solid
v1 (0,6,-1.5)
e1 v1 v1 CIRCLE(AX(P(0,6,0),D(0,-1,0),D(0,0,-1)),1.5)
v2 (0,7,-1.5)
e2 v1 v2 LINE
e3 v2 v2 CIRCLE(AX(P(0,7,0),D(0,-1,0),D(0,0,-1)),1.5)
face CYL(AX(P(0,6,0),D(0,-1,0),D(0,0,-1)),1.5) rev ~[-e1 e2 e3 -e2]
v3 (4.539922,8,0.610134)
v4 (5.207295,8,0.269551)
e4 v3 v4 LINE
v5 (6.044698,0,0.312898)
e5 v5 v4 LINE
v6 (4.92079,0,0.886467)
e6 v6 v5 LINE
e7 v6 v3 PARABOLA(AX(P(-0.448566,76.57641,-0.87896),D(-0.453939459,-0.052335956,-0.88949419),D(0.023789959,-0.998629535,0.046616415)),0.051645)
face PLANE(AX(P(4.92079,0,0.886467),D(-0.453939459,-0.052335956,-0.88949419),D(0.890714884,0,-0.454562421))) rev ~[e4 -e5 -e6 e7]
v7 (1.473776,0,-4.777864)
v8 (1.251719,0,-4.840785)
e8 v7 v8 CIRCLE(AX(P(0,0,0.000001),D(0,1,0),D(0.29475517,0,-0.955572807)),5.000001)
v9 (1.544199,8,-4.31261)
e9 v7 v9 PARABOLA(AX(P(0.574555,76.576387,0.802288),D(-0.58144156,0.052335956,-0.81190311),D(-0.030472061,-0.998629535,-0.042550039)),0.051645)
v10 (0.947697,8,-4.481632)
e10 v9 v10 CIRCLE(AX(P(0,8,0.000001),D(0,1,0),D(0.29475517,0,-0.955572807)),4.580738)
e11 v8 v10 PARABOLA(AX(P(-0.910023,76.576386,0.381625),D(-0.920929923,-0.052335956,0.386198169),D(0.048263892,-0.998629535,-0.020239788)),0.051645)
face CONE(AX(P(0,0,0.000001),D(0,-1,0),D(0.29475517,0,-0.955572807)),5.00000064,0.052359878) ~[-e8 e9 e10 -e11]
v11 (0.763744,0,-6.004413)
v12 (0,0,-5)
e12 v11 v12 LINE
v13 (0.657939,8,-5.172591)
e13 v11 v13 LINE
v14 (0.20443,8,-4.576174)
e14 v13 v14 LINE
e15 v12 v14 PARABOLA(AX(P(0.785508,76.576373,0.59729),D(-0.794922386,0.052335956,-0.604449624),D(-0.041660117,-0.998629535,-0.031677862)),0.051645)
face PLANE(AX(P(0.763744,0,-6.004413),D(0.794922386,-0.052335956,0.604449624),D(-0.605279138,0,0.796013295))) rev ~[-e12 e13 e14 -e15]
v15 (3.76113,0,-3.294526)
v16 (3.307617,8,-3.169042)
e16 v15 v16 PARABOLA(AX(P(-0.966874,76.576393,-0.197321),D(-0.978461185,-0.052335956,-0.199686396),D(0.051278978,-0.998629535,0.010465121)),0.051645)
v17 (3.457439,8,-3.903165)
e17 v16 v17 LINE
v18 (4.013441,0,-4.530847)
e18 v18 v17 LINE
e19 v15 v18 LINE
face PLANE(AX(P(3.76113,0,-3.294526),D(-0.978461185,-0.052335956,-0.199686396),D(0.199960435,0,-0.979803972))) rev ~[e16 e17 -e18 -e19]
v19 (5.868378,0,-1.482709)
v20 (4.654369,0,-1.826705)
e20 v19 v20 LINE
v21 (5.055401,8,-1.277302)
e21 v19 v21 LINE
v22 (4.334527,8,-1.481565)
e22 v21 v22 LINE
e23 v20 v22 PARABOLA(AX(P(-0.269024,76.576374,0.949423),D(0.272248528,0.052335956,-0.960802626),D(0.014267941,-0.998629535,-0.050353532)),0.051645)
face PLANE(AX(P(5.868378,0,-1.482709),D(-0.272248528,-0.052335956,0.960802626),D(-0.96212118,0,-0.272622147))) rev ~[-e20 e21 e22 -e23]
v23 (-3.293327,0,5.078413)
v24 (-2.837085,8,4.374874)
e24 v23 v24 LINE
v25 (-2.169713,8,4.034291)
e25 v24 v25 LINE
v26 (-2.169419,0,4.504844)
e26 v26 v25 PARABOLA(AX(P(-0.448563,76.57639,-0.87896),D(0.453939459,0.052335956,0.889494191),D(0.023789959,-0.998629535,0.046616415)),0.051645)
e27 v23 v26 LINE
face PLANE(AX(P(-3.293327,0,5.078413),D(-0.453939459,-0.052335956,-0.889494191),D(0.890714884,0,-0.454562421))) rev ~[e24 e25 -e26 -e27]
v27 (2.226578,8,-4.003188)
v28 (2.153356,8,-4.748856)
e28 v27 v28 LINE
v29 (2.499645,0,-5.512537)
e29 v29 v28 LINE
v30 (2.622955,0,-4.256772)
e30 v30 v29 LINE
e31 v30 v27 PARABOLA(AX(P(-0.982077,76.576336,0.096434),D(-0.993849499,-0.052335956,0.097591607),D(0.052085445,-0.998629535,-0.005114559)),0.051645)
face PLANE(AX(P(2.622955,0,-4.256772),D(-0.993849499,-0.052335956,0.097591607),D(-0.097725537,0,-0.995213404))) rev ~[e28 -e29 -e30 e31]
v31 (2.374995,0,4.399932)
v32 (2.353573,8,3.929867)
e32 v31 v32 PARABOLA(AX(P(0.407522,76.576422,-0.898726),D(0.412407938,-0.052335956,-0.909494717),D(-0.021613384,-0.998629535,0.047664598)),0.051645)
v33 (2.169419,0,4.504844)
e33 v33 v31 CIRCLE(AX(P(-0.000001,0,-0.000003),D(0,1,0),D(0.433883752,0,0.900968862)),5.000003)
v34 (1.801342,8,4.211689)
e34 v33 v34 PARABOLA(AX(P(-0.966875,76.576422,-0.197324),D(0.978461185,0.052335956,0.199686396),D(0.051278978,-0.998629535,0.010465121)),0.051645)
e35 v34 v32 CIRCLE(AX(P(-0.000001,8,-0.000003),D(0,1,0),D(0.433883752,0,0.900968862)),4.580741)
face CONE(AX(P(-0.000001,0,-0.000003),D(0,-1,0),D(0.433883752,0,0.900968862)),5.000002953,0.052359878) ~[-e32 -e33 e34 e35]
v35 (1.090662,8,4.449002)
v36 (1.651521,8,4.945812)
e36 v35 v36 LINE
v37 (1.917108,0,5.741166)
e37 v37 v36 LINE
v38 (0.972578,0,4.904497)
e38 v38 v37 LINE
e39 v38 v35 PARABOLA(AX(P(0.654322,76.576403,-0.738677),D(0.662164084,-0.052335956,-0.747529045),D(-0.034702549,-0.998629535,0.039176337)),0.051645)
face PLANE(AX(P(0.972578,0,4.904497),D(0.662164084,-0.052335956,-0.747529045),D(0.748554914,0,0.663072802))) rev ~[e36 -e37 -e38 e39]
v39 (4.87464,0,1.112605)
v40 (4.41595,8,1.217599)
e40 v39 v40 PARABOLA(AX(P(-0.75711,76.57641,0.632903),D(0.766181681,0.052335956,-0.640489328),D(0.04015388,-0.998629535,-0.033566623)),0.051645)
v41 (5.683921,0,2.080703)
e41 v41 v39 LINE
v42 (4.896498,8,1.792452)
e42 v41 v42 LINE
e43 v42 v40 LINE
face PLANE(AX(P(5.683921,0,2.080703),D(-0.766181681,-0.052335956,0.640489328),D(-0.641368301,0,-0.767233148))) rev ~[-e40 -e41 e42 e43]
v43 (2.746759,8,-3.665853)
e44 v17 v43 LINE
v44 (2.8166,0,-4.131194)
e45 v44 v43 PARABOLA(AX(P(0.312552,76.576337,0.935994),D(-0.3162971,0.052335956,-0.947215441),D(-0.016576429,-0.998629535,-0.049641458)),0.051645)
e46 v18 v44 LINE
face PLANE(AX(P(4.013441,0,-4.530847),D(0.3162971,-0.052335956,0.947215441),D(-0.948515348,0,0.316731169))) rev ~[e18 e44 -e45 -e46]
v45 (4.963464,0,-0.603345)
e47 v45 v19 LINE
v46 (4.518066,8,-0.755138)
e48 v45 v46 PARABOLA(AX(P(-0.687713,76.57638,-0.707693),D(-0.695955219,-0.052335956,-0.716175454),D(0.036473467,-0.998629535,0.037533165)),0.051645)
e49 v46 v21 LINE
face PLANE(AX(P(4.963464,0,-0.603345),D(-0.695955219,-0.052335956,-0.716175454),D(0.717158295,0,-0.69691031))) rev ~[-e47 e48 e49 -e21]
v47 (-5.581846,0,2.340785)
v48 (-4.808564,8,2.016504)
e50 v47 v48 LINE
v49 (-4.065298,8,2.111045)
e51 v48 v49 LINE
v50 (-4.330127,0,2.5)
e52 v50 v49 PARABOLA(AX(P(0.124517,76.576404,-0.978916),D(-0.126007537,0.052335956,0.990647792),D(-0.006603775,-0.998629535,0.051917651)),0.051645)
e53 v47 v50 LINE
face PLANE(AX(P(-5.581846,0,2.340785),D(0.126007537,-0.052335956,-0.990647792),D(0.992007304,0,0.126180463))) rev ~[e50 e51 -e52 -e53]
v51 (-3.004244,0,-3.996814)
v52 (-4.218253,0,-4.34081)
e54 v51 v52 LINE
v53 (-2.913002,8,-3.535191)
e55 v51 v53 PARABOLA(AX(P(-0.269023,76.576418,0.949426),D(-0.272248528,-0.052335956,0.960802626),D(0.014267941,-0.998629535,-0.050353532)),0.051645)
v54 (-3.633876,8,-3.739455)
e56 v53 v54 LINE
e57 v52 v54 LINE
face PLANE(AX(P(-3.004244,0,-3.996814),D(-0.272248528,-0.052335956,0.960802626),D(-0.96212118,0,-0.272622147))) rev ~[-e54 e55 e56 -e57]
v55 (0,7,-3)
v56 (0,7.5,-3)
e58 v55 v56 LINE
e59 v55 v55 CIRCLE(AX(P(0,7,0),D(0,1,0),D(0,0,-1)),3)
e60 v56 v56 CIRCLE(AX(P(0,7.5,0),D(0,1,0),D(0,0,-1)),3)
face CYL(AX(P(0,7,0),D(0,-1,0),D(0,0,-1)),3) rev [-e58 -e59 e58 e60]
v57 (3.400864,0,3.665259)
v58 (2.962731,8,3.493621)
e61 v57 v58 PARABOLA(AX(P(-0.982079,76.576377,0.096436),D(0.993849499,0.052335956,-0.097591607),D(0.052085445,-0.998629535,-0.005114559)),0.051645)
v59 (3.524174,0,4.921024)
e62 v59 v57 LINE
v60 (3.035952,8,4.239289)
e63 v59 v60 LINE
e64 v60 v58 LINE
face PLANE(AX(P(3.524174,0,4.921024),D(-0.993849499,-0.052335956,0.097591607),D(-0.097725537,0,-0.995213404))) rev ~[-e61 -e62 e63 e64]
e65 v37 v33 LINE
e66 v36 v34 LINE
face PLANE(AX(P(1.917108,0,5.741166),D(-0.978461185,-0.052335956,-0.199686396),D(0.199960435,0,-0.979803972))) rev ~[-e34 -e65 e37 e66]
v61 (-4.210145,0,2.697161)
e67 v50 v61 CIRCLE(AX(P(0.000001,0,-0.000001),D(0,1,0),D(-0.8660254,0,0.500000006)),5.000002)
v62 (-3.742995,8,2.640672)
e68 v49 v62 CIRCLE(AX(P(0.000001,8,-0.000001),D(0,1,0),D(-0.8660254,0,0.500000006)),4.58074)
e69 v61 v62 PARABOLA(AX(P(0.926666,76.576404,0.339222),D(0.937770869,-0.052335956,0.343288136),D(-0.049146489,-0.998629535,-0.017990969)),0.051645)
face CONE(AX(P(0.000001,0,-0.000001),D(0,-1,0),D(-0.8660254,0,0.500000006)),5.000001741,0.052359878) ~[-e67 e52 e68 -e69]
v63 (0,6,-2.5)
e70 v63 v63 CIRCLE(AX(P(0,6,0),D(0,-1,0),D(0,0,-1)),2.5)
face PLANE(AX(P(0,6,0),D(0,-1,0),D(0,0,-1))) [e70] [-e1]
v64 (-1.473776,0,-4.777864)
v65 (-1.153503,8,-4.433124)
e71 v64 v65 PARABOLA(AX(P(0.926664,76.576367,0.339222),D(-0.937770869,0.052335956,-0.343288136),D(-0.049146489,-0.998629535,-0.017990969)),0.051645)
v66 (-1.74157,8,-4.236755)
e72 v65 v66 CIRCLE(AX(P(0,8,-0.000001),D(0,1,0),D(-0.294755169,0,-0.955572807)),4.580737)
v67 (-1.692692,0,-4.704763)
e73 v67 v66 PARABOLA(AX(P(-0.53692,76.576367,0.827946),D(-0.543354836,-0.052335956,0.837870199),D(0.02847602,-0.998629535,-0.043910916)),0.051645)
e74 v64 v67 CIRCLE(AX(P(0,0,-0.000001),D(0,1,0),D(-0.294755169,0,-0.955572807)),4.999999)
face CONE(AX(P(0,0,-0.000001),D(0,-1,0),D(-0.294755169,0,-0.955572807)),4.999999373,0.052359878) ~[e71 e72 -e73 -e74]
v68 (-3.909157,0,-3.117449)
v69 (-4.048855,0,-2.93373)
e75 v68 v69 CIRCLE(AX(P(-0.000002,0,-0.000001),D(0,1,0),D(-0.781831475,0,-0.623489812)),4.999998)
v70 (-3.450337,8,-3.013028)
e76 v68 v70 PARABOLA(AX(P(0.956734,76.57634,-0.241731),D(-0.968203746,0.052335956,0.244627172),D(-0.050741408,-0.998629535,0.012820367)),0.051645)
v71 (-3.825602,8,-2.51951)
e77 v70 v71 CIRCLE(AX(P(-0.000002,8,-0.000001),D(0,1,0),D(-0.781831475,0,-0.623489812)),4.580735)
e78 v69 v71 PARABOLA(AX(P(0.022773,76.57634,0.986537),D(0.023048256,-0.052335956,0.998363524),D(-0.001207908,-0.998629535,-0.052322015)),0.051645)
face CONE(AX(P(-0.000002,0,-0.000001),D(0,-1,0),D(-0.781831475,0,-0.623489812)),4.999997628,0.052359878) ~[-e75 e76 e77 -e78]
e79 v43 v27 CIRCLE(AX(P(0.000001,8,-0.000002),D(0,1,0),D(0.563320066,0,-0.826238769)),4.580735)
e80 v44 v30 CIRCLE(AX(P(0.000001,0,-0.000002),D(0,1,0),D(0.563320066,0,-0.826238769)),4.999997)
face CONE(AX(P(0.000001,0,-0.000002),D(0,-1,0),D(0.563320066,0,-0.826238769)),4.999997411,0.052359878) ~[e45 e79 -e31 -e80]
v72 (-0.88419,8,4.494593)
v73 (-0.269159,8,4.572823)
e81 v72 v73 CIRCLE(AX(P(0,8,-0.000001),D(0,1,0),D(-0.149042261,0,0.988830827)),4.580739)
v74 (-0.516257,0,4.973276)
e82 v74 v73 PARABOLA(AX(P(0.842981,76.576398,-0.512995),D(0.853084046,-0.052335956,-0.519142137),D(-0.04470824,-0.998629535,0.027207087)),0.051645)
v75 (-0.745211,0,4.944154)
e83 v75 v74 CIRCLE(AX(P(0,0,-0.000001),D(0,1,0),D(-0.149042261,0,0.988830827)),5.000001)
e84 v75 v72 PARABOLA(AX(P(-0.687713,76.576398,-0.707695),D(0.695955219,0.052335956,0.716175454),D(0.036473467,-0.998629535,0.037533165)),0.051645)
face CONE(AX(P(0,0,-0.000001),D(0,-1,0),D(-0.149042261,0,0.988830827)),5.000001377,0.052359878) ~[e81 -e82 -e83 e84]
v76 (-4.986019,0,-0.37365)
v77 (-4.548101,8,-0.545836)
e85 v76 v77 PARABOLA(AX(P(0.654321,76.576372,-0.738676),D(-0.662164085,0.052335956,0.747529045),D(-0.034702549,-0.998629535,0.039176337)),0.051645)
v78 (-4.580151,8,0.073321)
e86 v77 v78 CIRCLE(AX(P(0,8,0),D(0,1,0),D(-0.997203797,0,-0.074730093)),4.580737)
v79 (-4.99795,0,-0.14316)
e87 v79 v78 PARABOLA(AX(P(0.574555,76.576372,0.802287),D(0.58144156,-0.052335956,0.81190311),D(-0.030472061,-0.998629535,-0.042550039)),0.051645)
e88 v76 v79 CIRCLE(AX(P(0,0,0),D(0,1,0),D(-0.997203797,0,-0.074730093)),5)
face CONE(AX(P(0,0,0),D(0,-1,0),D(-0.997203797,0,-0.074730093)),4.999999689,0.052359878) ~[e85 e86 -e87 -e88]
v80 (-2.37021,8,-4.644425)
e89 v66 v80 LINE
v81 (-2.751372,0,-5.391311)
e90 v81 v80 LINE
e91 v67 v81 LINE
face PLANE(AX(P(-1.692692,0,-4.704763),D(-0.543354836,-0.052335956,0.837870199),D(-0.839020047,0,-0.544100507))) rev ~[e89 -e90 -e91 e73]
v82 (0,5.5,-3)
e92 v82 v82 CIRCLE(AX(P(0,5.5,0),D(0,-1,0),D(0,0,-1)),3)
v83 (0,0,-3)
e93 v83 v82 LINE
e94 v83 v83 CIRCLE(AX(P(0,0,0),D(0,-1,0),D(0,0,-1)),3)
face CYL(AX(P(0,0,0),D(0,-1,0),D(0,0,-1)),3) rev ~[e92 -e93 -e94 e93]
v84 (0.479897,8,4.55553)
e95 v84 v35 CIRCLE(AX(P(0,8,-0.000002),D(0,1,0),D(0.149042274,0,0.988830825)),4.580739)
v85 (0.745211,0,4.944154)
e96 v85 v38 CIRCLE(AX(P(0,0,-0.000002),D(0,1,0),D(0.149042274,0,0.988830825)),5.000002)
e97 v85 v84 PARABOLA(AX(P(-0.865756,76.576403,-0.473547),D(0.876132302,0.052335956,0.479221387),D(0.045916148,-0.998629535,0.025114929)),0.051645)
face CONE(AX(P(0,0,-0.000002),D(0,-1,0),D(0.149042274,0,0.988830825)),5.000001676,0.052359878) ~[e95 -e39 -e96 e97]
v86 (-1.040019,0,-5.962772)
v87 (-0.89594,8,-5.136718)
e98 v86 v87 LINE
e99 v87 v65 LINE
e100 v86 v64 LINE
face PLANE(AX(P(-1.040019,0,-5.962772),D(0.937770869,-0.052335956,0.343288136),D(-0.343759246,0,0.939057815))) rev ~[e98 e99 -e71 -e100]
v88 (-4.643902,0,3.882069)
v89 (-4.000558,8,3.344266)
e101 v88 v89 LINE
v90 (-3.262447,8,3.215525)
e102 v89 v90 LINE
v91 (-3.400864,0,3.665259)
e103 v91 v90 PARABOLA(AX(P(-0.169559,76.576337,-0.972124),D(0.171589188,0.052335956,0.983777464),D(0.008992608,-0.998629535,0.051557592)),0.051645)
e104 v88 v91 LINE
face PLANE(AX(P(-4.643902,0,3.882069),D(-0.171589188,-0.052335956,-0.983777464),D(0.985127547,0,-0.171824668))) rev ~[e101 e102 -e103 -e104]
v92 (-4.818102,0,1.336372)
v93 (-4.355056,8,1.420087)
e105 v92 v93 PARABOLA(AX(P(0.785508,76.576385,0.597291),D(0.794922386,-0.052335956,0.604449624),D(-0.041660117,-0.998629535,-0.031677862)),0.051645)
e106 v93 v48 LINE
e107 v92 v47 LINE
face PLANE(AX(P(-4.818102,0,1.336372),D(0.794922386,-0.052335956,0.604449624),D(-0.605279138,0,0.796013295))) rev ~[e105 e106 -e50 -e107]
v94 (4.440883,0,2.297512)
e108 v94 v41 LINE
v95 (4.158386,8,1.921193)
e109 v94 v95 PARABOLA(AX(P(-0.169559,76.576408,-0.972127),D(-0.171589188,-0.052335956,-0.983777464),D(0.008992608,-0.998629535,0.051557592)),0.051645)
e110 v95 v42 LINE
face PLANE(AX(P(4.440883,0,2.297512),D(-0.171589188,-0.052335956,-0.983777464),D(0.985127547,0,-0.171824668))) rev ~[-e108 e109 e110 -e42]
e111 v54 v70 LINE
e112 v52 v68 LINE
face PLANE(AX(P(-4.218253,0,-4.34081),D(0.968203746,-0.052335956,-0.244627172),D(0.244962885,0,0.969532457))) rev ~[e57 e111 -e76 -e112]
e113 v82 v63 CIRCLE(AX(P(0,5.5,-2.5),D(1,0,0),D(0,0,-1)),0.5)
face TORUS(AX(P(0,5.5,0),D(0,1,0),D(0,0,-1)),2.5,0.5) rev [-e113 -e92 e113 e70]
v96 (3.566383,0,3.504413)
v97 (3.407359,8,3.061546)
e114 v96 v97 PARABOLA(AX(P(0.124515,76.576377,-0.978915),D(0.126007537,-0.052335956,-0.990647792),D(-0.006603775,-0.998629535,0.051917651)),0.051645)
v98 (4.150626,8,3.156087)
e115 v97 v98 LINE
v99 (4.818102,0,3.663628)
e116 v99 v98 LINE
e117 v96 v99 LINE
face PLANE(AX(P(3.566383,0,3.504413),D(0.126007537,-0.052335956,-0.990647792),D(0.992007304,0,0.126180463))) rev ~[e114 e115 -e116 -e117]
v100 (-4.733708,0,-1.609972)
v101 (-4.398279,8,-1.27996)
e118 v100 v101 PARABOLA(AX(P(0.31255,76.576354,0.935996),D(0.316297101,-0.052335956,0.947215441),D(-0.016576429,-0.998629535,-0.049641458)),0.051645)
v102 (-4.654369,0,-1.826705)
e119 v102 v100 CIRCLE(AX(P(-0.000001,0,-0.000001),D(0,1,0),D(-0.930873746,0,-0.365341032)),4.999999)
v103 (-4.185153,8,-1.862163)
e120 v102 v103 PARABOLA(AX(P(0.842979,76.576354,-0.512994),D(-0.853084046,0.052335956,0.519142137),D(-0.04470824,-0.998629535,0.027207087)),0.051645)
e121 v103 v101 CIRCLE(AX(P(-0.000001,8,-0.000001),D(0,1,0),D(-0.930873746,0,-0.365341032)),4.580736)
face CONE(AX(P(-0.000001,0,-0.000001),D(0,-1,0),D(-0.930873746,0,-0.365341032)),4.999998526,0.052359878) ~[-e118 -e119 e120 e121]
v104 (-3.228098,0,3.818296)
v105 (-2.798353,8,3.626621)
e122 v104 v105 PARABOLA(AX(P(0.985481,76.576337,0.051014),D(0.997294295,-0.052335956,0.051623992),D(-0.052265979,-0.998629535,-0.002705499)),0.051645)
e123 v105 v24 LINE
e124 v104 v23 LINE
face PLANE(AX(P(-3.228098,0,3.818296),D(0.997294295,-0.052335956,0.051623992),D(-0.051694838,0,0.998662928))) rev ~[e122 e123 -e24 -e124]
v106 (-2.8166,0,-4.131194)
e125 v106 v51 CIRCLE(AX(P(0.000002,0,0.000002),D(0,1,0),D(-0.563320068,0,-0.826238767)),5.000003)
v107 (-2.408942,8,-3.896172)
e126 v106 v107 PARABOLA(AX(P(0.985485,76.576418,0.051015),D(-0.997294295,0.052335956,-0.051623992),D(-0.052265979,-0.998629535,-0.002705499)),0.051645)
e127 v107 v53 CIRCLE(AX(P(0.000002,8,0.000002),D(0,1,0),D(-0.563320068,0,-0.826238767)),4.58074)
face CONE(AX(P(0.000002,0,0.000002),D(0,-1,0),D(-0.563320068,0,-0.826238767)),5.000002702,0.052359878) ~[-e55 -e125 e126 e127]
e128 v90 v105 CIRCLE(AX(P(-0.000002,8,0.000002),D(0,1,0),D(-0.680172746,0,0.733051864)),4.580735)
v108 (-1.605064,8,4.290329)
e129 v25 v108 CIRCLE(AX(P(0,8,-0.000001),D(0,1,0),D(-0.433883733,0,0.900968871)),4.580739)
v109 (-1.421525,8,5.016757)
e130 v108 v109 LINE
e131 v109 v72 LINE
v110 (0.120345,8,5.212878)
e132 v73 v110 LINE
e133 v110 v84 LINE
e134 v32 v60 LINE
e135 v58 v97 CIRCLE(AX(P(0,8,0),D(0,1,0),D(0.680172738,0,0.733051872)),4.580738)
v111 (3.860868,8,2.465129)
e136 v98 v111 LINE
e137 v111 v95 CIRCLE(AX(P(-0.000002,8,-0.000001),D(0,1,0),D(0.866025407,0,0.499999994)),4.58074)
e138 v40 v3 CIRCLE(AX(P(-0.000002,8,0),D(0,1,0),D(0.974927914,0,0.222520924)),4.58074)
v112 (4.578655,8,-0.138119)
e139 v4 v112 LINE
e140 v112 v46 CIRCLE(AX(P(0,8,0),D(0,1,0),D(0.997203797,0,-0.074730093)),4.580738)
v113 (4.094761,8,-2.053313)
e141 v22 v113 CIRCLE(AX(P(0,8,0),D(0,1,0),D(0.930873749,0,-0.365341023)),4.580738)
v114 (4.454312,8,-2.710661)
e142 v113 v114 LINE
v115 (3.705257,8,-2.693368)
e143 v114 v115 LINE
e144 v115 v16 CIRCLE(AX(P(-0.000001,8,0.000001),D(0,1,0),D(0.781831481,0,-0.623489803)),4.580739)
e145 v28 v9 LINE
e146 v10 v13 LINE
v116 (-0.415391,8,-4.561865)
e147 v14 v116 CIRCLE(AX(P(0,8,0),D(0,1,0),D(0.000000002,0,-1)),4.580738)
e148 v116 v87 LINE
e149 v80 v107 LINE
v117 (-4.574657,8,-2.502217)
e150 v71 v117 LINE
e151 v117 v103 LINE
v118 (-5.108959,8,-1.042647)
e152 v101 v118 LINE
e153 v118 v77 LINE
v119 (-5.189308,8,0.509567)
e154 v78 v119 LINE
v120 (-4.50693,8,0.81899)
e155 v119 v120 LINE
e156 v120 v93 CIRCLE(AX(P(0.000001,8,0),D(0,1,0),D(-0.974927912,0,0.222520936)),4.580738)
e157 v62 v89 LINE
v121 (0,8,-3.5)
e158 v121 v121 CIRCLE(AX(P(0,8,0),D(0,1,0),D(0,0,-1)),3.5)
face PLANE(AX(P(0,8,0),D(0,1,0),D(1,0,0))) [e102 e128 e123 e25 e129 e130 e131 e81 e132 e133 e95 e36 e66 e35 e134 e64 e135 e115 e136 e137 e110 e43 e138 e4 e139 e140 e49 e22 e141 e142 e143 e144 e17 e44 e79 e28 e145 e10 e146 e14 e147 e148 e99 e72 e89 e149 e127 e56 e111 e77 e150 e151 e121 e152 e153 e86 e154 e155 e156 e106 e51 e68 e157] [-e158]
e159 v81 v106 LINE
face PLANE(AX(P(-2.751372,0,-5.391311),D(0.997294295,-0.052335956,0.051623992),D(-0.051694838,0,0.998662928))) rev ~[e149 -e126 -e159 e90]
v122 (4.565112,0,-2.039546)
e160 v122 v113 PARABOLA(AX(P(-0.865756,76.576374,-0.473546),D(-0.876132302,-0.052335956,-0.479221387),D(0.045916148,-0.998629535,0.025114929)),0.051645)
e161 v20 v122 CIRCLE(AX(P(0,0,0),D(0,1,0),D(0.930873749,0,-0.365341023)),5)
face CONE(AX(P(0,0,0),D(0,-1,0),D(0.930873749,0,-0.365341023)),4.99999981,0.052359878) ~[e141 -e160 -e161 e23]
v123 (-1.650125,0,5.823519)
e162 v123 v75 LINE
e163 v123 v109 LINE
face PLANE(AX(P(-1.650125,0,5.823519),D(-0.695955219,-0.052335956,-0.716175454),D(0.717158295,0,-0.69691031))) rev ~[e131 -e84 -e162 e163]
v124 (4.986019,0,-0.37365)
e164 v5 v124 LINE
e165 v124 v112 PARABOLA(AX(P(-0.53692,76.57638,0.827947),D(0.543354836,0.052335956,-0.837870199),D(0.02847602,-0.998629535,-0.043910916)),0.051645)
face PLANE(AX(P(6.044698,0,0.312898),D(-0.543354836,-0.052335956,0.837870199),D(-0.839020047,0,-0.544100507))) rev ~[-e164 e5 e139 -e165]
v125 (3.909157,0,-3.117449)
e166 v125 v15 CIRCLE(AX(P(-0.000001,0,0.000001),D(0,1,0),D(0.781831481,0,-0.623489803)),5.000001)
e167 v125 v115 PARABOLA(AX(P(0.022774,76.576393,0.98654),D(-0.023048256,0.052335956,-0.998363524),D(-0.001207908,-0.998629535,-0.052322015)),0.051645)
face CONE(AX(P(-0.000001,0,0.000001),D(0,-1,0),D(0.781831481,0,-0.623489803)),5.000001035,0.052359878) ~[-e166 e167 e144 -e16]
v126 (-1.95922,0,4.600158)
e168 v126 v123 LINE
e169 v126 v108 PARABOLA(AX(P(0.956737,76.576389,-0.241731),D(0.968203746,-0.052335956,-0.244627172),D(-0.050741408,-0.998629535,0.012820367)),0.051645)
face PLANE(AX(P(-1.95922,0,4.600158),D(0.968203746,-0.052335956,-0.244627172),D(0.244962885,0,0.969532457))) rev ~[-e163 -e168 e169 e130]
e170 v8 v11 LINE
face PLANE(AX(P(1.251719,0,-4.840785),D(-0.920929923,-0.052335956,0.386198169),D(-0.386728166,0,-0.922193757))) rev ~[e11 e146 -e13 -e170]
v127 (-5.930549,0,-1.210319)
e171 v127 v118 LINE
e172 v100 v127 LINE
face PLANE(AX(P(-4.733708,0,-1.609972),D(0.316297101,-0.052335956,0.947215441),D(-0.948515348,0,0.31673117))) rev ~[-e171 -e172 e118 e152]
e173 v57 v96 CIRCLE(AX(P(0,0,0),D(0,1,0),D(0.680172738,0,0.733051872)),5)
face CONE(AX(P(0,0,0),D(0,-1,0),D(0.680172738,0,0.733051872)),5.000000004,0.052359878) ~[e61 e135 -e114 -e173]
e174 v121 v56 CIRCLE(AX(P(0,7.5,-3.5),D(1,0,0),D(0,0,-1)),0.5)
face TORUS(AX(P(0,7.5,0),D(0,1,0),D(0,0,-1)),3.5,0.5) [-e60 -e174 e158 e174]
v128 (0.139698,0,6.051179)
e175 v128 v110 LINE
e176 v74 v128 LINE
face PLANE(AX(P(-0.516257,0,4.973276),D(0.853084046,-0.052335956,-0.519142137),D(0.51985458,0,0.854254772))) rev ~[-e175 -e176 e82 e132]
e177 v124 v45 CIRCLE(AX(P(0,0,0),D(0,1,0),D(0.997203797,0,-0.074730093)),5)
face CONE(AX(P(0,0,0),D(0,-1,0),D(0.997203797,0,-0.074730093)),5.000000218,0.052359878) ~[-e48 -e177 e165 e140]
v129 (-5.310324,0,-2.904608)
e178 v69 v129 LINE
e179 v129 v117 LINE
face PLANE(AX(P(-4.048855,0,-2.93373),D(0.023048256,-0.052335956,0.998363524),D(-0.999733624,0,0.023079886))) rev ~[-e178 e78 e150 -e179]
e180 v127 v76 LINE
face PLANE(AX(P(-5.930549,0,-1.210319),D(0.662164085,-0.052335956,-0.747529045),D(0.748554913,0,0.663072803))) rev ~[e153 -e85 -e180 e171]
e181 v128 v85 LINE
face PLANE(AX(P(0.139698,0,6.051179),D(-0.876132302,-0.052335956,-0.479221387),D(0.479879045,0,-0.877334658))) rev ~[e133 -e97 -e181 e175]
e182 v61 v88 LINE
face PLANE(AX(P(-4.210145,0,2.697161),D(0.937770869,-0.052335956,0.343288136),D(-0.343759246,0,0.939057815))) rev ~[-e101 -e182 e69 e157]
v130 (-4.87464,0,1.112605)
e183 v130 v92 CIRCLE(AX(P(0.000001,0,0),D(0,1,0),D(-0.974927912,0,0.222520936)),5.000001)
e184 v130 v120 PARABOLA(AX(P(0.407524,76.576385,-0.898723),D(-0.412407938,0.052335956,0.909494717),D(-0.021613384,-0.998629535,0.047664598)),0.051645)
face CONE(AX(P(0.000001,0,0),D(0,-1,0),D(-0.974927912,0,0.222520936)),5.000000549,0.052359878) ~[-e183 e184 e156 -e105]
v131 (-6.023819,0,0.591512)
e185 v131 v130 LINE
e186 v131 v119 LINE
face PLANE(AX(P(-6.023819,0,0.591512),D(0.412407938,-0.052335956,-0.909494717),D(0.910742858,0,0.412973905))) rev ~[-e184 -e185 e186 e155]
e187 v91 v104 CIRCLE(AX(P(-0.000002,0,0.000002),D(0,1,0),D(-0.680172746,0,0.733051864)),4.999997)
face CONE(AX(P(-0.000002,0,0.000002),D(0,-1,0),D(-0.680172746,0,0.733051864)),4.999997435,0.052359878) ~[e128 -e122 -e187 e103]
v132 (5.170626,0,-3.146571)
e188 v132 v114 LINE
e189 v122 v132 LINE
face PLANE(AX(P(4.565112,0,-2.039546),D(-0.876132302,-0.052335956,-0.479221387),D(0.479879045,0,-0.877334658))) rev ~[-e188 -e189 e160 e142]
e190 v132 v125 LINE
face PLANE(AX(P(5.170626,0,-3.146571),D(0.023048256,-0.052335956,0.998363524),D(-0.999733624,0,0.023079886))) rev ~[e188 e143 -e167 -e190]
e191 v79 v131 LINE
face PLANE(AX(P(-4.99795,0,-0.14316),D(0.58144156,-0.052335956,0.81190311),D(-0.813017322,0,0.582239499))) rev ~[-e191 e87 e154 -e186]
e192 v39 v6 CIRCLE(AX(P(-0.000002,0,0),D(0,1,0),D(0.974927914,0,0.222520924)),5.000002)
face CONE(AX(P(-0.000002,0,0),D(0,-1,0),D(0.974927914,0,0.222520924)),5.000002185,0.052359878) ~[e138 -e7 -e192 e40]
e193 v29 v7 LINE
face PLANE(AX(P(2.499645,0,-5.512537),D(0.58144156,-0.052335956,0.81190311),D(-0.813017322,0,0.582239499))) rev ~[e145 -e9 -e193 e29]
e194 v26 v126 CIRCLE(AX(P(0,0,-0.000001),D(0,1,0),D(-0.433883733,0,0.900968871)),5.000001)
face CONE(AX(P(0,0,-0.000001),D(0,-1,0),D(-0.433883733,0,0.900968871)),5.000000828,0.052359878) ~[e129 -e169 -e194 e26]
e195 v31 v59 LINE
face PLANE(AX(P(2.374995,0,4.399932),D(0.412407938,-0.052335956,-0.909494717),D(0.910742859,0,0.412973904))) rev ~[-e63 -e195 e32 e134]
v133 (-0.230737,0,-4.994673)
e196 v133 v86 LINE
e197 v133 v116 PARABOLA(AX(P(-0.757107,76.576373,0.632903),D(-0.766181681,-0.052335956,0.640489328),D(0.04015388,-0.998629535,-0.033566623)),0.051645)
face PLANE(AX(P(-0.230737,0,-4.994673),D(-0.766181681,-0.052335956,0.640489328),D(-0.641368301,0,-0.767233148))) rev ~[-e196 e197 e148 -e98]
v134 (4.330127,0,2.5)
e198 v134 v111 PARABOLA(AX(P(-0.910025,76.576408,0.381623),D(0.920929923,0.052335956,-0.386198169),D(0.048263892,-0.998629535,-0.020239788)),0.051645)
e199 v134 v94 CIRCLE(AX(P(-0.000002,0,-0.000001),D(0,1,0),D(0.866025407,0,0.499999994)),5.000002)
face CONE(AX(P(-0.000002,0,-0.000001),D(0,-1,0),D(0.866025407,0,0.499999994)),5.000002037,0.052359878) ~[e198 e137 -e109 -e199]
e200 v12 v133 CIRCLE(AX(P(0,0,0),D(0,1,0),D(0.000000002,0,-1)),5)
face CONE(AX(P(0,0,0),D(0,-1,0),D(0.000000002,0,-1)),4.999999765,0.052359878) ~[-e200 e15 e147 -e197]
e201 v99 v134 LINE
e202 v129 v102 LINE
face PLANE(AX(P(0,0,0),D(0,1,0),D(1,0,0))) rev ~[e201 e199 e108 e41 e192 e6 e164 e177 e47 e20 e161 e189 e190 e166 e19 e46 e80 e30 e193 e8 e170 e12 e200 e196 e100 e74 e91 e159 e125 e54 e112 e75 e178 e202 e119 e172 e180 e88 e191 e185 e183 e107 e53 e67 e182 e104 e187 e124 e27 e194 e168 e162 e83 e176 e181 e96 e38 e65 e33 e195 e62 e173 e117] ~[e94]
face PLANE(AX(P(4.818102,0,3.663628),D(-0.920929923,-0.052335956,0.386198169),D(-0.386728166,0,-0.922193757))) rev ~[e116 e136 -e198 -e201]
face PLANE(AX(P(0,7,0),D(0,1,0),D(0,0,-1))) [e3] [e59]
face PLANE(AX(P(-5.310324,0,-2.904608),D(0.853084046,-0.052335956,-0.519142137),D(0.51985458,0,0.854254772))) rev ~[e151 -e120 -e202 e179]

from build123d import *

# Parameters (mm, degrees)
BOSS_EXTRUDE1_DEPTH = 8
BOSS_EXTRUDE1_DRAFT = 3
SKETCH2_R           = 3
CUT_EXTRUDE1_DEPTH  = 6
SKETCH3_R           = 1.5
CUT_EXTRUDE2_DEPTH  = 6
FILLET3_R           = 0.5
CUT_EXTRUDE3_START  = -1
SKETCH4_R           = 3
CUT_EXTRUDE3_DEPTH  = 1
FILLET4_R           = 0.5


with BuildPart() as part:
    # Sketch1 → Boss-Extrude1 (with draft: the straight prism first)
    with BuildSketch(Plane(origin=(0, 0, 0), x_dir=(1, 0, 0), z_dir=(0, 1, 0))):
        with BuildLine():
            ThreePointArc((0, 5), (-0.115399429, 4.99866812), (-0.230737379, 4.994673189))
            Line((-0.230737379, 4.994673189), (-1.040018866, 5.962771522))
            Line((-1.040018866, 5.962771522), (-1.473775872, 4.777864029))
            ThreePointArc((-1.473775872, 4.777864029), (-1.58365585, 4.742576742), (-1.692692132, 4.704762837))
            Line((-1.692692132, 4.704762837), (-2.751371505, 5.391311371))
            Line((-2.751371505, 5.391311371), (-2.81660029, 4.131193872))
            ThreePointArc((-2.81660029, 4.131193872), (-2.911197498, 4.065086607), (-3.00424376, 3.99681366))
            Line((-3.00424376, 3.99681366), (-4.218252713, 4.340809546))
            Line((-4.218252713, 4.340809546), (-3.909157412, 3.117449009))
            ThreePointArc((-3.909157412, 3.117449009), (-3.980066474, 3.026395689), (-4.048855146, 2.93373005))
            Line((-4.048855146, 2.93373005), (-5.310323655, 2.904607743))
            Line((-5.310323655, 2.904607743), (-4.654368743, 1.826705122))
            ThreePointArc((-4.654368743, 1.826705122), (-4.695289077, 1.718796232), (-4.733707985, 1.60997165))
            Line((-4.733707985, 1.60997165), (-5.930549036, 1.210318796))
            Line((-5.930549036, 1.210318796), (-4.986018986, 0.373650468))
            ThreePointArc((-4.986018986, 0.373650468), (-4.99331464, 0.258474187), (-4.997950095, 0.143160204))
            Line((-4.997950095, 0.143160204), (-6.02381911, -0.591512288))
            Line((-6.02381911, -0.591512288), (-4.874639561, -1.11260467))
            ThreePointArc((-4.874639561, -1.11260467), (-4.847662285, -1.224814423), (-4.818102407, -1.336371654))
            Line((-4.818102407, -1.336371654), (-5.581846421, -2.340784909))
            Line((-5.581846421, -2.340784909), (-4.330127019, -2.5))
            ThreePointArc((-4.330127019, -2.5), (-4.271273862, -2.599272897), (-4.210145176, -2.697161026))
            Line((-4.210145176, -2.697161026), (-4.643902182, -3.882068519))
            Line((-4.643902182, -3.882068519), (-3.400863689, -3.665259359))
            ThreePointArc((-3.400863689, -3.665259359), (-3.315364013, -3.742774568), (-3.228098069, -3.818295805))
            Line((-3.228098069, -3.818295805), (-3.293326854, -5.078413304))
            Line((-3.293326854, -5.078413304), (-2.169418696, -4.50484434))
            ThreePointArc((-2.169418696, -4.50484434), (-2.064869521, -4.553714293), (-1.959220284, -4.600158245))
            Line((-1.959220284, -4.600158245), (-1.650124983, -5.823518782))
            Line((-1.650124983, -5.823518782), (-0.745211331, -4.944154131))
            ThreePointArc((-0.745211331, -4.944154131), (-0.630902312, -4.960036519), (-0.516257178, -4.973276438))
            Line((-0.516257178, -4.973276438), (0.139697734, -6.051179059))
            Line((0.139697734, -6.051179059), (0.745211331, -4.944154131))
            ThreePointArc((0.745211331, -4.944154131), (0.859123337, -4.925637734), (0.972577644, -4.904497194))
            Line((0.972577644, -4.904497194), (1.917107695, -5.741165522))
            Line((1.917107695, -5.741165522), (2.169418696, -4.50484434))
            ThreePointArc((2.169418696, -4.50484434), (2.272812107, -4.453574421), (2.374994674, -4.399931852))
            Line((2.374994674, -4.399931852), (3.524174223, -4.921024233))
            Line((3.524174223, -4.921024233), (3.400863689, -3.665259359))
            ThreePointArc((3.400863689, -3.665259359), (3.484551548, -3.585791476), (3.566383005, -3.504413255))
            Line((3.566383005, -3.504413255), (4.818102407, -3.663628346))
            Line((4.818102407, -3.663628346), (4.330127019, -2.5))
            ThreePointArc((4.330127019, -2.5), (4.386673291, -2.399395223), (4.440882555, -2.297512163))
            Line((4.440882555, -2.297512163), (5.683921048, -2.080703003))
            Line((5.683921048, -2.080703003), (4.874639561, -1.11260467))
            ThreePointArc((4.874639561, -1.11260467), (4.899019862, -0.999802174), (4.920790201, -0.886467032))
            Line((4.920790201, -0.886467032), (6.04469836, -0.312898067))
            Line((6.04469836, -0.312898067), (4.986018986, 0.373650468))
            ThreePointArc((4.986018986, 0.373650468), (4.97606702, 0.488627685), (4.963464044, 0.603344585))
            Line((4.963464044, 0.603344585), (5.868377696, 1.482709236))
            Line((5.868377696, 1.482709236), (4.654368743, 1.826705122))
            ThreePointArc((4.654368743, 1.826705122), (4.610968785, 1.933640831), (4.565112324, 2.039546388))
            Line((4.565112324, 2.039546388), (5.170625921, 3.146571316))
            Line((5.170625921, 3.146571316), (3.909157412, 3.117449009))
            ThreePointArc((3.909157412, 3.117449009), (3.836165739, 3.206841502), (3.761130341, 3.294525544))
            Line((3.761130341, 3.294525544), (4.013441342, 4.530846726))
            Line((4.013441342, 4.530846726), (2.81660029, 4.131193872))
            ThreePointArc((2.81660029, 4.131193872), (2.720502533, 4.195100234), (2.622955421, 4.256771647))
            Line((2.622955421, 4.256771647), (2.499644887, 5.512536521))
            Line((2.499644887, 5.512536521), (1.473775872, 4.777864029))
            ThreePointArc((1.473775872, 4.777864029), (1.363110737, 4.810605899), (1.251719402, 4.840784909))
            Line((1.251719402, 4.840784909), (0.763744014, 6.004413255))
            Line((0.763744014, 6.004413255), (0, 5))
        make_face()
    extrude(amount=BOSS_EXTRUDE1_DEPTH)
    # Boss-Extrude1: the draft: its side faces are tilted about the plane it starts from
    boss_extrude1_sides = [part.faces().sort_by_distance(p)[0] for p in [
        (4.867869122, 4, -2.593058852),
        (4.539891667, 4, -3.132010163),
        (3.836165739, 4, -3.206841502),
        (3.887285841, 4, -3.912686135),
        (3.415020816, 4, -4.331020299),
        (2.720502533, 4, -4.195100234),
        (2.561300154, 4, -4.884654084),
        (1.98671038, 4, -5.145200275),
        (1.363110737, 4, -4.810605899),
        (1.007731708, 4, -5.422599082),
        (0.381872007, 4, -5.502206628),
        (-0.115399429, 4, -4.99866812),
        (-0.635378122, 4, -5.478722355),
        (-1.256897369, 4, -5.370317775),
        (-1.58365585, 4, -4.742576742),
        (-2.222031818, 4, -5.048037104),
        (-2.783985898, 4, -4.761252621),
        (-2.911197498, 4, -4.065086607),
        (-3.611248236, 4, -4.168811603),
        (-4.063705062, 4, -3.729129278),
        (-3.980066474, 4, -3.026395689),
        (-4.679589401, 4, -2.919168896),
        (-4.982346199, 4, -2.365656432),
        (-4.695289077, 4, -1.718796232),
        (-5.332128511, 4, -1.410145223),
        (-5.458284011, 4, -0.791984632),
        (-4.99331464, 4, -0.258474187),
        (-5.510884603, 4, 0.224176042),
        (-5.449229336, 4, 0.852058479),
        (-4.847662285, 4, 1.224814423),
        (-5.199974414, 4, 1.838578282),
        (-4.95598672, 4, 2.420392455),
        (-4.271273862, 4, 2.599272897),
        (-4.427023679, 4, 3.289614773),
        (-4.022382935, 4, 3.773663939),
        (-3.315364013, 4, 3.742774568),
        (-3.260712462, 4, 4.448354555),
        (-2.731372775, 4, 4.791628822),
        (-2.064869521, 4, 4.553714293),
        (-1.804672633, 4, 5.211838513),
        (-1.197668157, 4, 5.383836456),
        (-0.630902312, 4, 4.960036519),
        (-0.188279722, 4, 5.512227748),
        (0.442454532, 4, 5.497666595),
        (0.859123337, 4, 4.925637734),
        (1.444842669, 4, 5.322831358),
        (2.043263195, 4, 5.123004931),
        (2.272812107, 4, 4.453574421),
        (2.949584449, 4, 4.660478042),
        (3.462518956, 4, 4.293141796),
        (3.484551548, 4, 3.585791476),
        (4.192242706, 4, 3.584020801),
        (4.574114713, 4, 3.081814173),
        (4.386673291, 4, 2.399395223),
        (5.062401801, 4, 2.189107583),
        (5.279280304, 4, 1.596653836),
        (4.899019862, 4, 0.999802174),
        (5.48274428, 4, 0.599682549),
        (5.515358673, 4, -0.030376201),
        (4.97606702, 4, -0.488627685),
        (5.41592087, 4, -1.043026911),
        (5.26137322, 4, -1.654707179),
        (4.610968785, 4, -1.933640831),
    ]]
    draft(boss_extrude1_sides, Plane(origin=(0, 0, 0), x_dir=(1, 0, 0), z_dir=(0, 1, 0)), BOSS_EXTRUDE1_DRAFT)

    # Sketch2 → Cut-Extrude1 (cut)
    with BuildSketch(Plane.XZ):
        with Locations(Location((0, 0, 0), (0, 0, 270))):
            Circle(SKETCH2_R)
    extrude(amount=-CUT_EXTRUDE1_DEPTH, mode=Mode.SUBTRACT)

    # Sketch3 → Cut-Extrude2 (cut)
    with BuildSketch(Plane.XZ.offset(-6)):
        with Locations(Location((0, 0, 0), (0, 0, 270))):
            Circle(SKETCH3_R)
    extrude(amount=-CUT_EXTRUDE2_DEPTH, mode=Mode.SUBTRACT)

    # Fillet3
    fillet3_edges = [part.edges().sort_by_distance(p)[0] for p in [
        (0, 6, 3),
    ]]
    fillet(fillet3_edges, radius=FILLET3_R)

    # Sketch4 → Cut-Extrude3 (cut)
    with BuildSketch(Plane(origin=(0, 8, 0), x_dir=(1, 0, 0), z_dir=(0, 1, 0)).offset(CUT_EXTRUDE3_START)):
        with Locations(Location((0, 0, 0), (0, 0, 90))):
            Circle(SKETCH4_R)
    extrude(amount=CUT_EXTRUDE3_DEPTH, mode=Mode.SUBTRACT)

    # Fillet4
    fillet4_edges = [part.edges().sort_by_distance(p)[0] for p in [
        (0, 8, 3),
    ]]
    fillet(fillet4_edges, radius=FILLET4_R)


solid = part.part
